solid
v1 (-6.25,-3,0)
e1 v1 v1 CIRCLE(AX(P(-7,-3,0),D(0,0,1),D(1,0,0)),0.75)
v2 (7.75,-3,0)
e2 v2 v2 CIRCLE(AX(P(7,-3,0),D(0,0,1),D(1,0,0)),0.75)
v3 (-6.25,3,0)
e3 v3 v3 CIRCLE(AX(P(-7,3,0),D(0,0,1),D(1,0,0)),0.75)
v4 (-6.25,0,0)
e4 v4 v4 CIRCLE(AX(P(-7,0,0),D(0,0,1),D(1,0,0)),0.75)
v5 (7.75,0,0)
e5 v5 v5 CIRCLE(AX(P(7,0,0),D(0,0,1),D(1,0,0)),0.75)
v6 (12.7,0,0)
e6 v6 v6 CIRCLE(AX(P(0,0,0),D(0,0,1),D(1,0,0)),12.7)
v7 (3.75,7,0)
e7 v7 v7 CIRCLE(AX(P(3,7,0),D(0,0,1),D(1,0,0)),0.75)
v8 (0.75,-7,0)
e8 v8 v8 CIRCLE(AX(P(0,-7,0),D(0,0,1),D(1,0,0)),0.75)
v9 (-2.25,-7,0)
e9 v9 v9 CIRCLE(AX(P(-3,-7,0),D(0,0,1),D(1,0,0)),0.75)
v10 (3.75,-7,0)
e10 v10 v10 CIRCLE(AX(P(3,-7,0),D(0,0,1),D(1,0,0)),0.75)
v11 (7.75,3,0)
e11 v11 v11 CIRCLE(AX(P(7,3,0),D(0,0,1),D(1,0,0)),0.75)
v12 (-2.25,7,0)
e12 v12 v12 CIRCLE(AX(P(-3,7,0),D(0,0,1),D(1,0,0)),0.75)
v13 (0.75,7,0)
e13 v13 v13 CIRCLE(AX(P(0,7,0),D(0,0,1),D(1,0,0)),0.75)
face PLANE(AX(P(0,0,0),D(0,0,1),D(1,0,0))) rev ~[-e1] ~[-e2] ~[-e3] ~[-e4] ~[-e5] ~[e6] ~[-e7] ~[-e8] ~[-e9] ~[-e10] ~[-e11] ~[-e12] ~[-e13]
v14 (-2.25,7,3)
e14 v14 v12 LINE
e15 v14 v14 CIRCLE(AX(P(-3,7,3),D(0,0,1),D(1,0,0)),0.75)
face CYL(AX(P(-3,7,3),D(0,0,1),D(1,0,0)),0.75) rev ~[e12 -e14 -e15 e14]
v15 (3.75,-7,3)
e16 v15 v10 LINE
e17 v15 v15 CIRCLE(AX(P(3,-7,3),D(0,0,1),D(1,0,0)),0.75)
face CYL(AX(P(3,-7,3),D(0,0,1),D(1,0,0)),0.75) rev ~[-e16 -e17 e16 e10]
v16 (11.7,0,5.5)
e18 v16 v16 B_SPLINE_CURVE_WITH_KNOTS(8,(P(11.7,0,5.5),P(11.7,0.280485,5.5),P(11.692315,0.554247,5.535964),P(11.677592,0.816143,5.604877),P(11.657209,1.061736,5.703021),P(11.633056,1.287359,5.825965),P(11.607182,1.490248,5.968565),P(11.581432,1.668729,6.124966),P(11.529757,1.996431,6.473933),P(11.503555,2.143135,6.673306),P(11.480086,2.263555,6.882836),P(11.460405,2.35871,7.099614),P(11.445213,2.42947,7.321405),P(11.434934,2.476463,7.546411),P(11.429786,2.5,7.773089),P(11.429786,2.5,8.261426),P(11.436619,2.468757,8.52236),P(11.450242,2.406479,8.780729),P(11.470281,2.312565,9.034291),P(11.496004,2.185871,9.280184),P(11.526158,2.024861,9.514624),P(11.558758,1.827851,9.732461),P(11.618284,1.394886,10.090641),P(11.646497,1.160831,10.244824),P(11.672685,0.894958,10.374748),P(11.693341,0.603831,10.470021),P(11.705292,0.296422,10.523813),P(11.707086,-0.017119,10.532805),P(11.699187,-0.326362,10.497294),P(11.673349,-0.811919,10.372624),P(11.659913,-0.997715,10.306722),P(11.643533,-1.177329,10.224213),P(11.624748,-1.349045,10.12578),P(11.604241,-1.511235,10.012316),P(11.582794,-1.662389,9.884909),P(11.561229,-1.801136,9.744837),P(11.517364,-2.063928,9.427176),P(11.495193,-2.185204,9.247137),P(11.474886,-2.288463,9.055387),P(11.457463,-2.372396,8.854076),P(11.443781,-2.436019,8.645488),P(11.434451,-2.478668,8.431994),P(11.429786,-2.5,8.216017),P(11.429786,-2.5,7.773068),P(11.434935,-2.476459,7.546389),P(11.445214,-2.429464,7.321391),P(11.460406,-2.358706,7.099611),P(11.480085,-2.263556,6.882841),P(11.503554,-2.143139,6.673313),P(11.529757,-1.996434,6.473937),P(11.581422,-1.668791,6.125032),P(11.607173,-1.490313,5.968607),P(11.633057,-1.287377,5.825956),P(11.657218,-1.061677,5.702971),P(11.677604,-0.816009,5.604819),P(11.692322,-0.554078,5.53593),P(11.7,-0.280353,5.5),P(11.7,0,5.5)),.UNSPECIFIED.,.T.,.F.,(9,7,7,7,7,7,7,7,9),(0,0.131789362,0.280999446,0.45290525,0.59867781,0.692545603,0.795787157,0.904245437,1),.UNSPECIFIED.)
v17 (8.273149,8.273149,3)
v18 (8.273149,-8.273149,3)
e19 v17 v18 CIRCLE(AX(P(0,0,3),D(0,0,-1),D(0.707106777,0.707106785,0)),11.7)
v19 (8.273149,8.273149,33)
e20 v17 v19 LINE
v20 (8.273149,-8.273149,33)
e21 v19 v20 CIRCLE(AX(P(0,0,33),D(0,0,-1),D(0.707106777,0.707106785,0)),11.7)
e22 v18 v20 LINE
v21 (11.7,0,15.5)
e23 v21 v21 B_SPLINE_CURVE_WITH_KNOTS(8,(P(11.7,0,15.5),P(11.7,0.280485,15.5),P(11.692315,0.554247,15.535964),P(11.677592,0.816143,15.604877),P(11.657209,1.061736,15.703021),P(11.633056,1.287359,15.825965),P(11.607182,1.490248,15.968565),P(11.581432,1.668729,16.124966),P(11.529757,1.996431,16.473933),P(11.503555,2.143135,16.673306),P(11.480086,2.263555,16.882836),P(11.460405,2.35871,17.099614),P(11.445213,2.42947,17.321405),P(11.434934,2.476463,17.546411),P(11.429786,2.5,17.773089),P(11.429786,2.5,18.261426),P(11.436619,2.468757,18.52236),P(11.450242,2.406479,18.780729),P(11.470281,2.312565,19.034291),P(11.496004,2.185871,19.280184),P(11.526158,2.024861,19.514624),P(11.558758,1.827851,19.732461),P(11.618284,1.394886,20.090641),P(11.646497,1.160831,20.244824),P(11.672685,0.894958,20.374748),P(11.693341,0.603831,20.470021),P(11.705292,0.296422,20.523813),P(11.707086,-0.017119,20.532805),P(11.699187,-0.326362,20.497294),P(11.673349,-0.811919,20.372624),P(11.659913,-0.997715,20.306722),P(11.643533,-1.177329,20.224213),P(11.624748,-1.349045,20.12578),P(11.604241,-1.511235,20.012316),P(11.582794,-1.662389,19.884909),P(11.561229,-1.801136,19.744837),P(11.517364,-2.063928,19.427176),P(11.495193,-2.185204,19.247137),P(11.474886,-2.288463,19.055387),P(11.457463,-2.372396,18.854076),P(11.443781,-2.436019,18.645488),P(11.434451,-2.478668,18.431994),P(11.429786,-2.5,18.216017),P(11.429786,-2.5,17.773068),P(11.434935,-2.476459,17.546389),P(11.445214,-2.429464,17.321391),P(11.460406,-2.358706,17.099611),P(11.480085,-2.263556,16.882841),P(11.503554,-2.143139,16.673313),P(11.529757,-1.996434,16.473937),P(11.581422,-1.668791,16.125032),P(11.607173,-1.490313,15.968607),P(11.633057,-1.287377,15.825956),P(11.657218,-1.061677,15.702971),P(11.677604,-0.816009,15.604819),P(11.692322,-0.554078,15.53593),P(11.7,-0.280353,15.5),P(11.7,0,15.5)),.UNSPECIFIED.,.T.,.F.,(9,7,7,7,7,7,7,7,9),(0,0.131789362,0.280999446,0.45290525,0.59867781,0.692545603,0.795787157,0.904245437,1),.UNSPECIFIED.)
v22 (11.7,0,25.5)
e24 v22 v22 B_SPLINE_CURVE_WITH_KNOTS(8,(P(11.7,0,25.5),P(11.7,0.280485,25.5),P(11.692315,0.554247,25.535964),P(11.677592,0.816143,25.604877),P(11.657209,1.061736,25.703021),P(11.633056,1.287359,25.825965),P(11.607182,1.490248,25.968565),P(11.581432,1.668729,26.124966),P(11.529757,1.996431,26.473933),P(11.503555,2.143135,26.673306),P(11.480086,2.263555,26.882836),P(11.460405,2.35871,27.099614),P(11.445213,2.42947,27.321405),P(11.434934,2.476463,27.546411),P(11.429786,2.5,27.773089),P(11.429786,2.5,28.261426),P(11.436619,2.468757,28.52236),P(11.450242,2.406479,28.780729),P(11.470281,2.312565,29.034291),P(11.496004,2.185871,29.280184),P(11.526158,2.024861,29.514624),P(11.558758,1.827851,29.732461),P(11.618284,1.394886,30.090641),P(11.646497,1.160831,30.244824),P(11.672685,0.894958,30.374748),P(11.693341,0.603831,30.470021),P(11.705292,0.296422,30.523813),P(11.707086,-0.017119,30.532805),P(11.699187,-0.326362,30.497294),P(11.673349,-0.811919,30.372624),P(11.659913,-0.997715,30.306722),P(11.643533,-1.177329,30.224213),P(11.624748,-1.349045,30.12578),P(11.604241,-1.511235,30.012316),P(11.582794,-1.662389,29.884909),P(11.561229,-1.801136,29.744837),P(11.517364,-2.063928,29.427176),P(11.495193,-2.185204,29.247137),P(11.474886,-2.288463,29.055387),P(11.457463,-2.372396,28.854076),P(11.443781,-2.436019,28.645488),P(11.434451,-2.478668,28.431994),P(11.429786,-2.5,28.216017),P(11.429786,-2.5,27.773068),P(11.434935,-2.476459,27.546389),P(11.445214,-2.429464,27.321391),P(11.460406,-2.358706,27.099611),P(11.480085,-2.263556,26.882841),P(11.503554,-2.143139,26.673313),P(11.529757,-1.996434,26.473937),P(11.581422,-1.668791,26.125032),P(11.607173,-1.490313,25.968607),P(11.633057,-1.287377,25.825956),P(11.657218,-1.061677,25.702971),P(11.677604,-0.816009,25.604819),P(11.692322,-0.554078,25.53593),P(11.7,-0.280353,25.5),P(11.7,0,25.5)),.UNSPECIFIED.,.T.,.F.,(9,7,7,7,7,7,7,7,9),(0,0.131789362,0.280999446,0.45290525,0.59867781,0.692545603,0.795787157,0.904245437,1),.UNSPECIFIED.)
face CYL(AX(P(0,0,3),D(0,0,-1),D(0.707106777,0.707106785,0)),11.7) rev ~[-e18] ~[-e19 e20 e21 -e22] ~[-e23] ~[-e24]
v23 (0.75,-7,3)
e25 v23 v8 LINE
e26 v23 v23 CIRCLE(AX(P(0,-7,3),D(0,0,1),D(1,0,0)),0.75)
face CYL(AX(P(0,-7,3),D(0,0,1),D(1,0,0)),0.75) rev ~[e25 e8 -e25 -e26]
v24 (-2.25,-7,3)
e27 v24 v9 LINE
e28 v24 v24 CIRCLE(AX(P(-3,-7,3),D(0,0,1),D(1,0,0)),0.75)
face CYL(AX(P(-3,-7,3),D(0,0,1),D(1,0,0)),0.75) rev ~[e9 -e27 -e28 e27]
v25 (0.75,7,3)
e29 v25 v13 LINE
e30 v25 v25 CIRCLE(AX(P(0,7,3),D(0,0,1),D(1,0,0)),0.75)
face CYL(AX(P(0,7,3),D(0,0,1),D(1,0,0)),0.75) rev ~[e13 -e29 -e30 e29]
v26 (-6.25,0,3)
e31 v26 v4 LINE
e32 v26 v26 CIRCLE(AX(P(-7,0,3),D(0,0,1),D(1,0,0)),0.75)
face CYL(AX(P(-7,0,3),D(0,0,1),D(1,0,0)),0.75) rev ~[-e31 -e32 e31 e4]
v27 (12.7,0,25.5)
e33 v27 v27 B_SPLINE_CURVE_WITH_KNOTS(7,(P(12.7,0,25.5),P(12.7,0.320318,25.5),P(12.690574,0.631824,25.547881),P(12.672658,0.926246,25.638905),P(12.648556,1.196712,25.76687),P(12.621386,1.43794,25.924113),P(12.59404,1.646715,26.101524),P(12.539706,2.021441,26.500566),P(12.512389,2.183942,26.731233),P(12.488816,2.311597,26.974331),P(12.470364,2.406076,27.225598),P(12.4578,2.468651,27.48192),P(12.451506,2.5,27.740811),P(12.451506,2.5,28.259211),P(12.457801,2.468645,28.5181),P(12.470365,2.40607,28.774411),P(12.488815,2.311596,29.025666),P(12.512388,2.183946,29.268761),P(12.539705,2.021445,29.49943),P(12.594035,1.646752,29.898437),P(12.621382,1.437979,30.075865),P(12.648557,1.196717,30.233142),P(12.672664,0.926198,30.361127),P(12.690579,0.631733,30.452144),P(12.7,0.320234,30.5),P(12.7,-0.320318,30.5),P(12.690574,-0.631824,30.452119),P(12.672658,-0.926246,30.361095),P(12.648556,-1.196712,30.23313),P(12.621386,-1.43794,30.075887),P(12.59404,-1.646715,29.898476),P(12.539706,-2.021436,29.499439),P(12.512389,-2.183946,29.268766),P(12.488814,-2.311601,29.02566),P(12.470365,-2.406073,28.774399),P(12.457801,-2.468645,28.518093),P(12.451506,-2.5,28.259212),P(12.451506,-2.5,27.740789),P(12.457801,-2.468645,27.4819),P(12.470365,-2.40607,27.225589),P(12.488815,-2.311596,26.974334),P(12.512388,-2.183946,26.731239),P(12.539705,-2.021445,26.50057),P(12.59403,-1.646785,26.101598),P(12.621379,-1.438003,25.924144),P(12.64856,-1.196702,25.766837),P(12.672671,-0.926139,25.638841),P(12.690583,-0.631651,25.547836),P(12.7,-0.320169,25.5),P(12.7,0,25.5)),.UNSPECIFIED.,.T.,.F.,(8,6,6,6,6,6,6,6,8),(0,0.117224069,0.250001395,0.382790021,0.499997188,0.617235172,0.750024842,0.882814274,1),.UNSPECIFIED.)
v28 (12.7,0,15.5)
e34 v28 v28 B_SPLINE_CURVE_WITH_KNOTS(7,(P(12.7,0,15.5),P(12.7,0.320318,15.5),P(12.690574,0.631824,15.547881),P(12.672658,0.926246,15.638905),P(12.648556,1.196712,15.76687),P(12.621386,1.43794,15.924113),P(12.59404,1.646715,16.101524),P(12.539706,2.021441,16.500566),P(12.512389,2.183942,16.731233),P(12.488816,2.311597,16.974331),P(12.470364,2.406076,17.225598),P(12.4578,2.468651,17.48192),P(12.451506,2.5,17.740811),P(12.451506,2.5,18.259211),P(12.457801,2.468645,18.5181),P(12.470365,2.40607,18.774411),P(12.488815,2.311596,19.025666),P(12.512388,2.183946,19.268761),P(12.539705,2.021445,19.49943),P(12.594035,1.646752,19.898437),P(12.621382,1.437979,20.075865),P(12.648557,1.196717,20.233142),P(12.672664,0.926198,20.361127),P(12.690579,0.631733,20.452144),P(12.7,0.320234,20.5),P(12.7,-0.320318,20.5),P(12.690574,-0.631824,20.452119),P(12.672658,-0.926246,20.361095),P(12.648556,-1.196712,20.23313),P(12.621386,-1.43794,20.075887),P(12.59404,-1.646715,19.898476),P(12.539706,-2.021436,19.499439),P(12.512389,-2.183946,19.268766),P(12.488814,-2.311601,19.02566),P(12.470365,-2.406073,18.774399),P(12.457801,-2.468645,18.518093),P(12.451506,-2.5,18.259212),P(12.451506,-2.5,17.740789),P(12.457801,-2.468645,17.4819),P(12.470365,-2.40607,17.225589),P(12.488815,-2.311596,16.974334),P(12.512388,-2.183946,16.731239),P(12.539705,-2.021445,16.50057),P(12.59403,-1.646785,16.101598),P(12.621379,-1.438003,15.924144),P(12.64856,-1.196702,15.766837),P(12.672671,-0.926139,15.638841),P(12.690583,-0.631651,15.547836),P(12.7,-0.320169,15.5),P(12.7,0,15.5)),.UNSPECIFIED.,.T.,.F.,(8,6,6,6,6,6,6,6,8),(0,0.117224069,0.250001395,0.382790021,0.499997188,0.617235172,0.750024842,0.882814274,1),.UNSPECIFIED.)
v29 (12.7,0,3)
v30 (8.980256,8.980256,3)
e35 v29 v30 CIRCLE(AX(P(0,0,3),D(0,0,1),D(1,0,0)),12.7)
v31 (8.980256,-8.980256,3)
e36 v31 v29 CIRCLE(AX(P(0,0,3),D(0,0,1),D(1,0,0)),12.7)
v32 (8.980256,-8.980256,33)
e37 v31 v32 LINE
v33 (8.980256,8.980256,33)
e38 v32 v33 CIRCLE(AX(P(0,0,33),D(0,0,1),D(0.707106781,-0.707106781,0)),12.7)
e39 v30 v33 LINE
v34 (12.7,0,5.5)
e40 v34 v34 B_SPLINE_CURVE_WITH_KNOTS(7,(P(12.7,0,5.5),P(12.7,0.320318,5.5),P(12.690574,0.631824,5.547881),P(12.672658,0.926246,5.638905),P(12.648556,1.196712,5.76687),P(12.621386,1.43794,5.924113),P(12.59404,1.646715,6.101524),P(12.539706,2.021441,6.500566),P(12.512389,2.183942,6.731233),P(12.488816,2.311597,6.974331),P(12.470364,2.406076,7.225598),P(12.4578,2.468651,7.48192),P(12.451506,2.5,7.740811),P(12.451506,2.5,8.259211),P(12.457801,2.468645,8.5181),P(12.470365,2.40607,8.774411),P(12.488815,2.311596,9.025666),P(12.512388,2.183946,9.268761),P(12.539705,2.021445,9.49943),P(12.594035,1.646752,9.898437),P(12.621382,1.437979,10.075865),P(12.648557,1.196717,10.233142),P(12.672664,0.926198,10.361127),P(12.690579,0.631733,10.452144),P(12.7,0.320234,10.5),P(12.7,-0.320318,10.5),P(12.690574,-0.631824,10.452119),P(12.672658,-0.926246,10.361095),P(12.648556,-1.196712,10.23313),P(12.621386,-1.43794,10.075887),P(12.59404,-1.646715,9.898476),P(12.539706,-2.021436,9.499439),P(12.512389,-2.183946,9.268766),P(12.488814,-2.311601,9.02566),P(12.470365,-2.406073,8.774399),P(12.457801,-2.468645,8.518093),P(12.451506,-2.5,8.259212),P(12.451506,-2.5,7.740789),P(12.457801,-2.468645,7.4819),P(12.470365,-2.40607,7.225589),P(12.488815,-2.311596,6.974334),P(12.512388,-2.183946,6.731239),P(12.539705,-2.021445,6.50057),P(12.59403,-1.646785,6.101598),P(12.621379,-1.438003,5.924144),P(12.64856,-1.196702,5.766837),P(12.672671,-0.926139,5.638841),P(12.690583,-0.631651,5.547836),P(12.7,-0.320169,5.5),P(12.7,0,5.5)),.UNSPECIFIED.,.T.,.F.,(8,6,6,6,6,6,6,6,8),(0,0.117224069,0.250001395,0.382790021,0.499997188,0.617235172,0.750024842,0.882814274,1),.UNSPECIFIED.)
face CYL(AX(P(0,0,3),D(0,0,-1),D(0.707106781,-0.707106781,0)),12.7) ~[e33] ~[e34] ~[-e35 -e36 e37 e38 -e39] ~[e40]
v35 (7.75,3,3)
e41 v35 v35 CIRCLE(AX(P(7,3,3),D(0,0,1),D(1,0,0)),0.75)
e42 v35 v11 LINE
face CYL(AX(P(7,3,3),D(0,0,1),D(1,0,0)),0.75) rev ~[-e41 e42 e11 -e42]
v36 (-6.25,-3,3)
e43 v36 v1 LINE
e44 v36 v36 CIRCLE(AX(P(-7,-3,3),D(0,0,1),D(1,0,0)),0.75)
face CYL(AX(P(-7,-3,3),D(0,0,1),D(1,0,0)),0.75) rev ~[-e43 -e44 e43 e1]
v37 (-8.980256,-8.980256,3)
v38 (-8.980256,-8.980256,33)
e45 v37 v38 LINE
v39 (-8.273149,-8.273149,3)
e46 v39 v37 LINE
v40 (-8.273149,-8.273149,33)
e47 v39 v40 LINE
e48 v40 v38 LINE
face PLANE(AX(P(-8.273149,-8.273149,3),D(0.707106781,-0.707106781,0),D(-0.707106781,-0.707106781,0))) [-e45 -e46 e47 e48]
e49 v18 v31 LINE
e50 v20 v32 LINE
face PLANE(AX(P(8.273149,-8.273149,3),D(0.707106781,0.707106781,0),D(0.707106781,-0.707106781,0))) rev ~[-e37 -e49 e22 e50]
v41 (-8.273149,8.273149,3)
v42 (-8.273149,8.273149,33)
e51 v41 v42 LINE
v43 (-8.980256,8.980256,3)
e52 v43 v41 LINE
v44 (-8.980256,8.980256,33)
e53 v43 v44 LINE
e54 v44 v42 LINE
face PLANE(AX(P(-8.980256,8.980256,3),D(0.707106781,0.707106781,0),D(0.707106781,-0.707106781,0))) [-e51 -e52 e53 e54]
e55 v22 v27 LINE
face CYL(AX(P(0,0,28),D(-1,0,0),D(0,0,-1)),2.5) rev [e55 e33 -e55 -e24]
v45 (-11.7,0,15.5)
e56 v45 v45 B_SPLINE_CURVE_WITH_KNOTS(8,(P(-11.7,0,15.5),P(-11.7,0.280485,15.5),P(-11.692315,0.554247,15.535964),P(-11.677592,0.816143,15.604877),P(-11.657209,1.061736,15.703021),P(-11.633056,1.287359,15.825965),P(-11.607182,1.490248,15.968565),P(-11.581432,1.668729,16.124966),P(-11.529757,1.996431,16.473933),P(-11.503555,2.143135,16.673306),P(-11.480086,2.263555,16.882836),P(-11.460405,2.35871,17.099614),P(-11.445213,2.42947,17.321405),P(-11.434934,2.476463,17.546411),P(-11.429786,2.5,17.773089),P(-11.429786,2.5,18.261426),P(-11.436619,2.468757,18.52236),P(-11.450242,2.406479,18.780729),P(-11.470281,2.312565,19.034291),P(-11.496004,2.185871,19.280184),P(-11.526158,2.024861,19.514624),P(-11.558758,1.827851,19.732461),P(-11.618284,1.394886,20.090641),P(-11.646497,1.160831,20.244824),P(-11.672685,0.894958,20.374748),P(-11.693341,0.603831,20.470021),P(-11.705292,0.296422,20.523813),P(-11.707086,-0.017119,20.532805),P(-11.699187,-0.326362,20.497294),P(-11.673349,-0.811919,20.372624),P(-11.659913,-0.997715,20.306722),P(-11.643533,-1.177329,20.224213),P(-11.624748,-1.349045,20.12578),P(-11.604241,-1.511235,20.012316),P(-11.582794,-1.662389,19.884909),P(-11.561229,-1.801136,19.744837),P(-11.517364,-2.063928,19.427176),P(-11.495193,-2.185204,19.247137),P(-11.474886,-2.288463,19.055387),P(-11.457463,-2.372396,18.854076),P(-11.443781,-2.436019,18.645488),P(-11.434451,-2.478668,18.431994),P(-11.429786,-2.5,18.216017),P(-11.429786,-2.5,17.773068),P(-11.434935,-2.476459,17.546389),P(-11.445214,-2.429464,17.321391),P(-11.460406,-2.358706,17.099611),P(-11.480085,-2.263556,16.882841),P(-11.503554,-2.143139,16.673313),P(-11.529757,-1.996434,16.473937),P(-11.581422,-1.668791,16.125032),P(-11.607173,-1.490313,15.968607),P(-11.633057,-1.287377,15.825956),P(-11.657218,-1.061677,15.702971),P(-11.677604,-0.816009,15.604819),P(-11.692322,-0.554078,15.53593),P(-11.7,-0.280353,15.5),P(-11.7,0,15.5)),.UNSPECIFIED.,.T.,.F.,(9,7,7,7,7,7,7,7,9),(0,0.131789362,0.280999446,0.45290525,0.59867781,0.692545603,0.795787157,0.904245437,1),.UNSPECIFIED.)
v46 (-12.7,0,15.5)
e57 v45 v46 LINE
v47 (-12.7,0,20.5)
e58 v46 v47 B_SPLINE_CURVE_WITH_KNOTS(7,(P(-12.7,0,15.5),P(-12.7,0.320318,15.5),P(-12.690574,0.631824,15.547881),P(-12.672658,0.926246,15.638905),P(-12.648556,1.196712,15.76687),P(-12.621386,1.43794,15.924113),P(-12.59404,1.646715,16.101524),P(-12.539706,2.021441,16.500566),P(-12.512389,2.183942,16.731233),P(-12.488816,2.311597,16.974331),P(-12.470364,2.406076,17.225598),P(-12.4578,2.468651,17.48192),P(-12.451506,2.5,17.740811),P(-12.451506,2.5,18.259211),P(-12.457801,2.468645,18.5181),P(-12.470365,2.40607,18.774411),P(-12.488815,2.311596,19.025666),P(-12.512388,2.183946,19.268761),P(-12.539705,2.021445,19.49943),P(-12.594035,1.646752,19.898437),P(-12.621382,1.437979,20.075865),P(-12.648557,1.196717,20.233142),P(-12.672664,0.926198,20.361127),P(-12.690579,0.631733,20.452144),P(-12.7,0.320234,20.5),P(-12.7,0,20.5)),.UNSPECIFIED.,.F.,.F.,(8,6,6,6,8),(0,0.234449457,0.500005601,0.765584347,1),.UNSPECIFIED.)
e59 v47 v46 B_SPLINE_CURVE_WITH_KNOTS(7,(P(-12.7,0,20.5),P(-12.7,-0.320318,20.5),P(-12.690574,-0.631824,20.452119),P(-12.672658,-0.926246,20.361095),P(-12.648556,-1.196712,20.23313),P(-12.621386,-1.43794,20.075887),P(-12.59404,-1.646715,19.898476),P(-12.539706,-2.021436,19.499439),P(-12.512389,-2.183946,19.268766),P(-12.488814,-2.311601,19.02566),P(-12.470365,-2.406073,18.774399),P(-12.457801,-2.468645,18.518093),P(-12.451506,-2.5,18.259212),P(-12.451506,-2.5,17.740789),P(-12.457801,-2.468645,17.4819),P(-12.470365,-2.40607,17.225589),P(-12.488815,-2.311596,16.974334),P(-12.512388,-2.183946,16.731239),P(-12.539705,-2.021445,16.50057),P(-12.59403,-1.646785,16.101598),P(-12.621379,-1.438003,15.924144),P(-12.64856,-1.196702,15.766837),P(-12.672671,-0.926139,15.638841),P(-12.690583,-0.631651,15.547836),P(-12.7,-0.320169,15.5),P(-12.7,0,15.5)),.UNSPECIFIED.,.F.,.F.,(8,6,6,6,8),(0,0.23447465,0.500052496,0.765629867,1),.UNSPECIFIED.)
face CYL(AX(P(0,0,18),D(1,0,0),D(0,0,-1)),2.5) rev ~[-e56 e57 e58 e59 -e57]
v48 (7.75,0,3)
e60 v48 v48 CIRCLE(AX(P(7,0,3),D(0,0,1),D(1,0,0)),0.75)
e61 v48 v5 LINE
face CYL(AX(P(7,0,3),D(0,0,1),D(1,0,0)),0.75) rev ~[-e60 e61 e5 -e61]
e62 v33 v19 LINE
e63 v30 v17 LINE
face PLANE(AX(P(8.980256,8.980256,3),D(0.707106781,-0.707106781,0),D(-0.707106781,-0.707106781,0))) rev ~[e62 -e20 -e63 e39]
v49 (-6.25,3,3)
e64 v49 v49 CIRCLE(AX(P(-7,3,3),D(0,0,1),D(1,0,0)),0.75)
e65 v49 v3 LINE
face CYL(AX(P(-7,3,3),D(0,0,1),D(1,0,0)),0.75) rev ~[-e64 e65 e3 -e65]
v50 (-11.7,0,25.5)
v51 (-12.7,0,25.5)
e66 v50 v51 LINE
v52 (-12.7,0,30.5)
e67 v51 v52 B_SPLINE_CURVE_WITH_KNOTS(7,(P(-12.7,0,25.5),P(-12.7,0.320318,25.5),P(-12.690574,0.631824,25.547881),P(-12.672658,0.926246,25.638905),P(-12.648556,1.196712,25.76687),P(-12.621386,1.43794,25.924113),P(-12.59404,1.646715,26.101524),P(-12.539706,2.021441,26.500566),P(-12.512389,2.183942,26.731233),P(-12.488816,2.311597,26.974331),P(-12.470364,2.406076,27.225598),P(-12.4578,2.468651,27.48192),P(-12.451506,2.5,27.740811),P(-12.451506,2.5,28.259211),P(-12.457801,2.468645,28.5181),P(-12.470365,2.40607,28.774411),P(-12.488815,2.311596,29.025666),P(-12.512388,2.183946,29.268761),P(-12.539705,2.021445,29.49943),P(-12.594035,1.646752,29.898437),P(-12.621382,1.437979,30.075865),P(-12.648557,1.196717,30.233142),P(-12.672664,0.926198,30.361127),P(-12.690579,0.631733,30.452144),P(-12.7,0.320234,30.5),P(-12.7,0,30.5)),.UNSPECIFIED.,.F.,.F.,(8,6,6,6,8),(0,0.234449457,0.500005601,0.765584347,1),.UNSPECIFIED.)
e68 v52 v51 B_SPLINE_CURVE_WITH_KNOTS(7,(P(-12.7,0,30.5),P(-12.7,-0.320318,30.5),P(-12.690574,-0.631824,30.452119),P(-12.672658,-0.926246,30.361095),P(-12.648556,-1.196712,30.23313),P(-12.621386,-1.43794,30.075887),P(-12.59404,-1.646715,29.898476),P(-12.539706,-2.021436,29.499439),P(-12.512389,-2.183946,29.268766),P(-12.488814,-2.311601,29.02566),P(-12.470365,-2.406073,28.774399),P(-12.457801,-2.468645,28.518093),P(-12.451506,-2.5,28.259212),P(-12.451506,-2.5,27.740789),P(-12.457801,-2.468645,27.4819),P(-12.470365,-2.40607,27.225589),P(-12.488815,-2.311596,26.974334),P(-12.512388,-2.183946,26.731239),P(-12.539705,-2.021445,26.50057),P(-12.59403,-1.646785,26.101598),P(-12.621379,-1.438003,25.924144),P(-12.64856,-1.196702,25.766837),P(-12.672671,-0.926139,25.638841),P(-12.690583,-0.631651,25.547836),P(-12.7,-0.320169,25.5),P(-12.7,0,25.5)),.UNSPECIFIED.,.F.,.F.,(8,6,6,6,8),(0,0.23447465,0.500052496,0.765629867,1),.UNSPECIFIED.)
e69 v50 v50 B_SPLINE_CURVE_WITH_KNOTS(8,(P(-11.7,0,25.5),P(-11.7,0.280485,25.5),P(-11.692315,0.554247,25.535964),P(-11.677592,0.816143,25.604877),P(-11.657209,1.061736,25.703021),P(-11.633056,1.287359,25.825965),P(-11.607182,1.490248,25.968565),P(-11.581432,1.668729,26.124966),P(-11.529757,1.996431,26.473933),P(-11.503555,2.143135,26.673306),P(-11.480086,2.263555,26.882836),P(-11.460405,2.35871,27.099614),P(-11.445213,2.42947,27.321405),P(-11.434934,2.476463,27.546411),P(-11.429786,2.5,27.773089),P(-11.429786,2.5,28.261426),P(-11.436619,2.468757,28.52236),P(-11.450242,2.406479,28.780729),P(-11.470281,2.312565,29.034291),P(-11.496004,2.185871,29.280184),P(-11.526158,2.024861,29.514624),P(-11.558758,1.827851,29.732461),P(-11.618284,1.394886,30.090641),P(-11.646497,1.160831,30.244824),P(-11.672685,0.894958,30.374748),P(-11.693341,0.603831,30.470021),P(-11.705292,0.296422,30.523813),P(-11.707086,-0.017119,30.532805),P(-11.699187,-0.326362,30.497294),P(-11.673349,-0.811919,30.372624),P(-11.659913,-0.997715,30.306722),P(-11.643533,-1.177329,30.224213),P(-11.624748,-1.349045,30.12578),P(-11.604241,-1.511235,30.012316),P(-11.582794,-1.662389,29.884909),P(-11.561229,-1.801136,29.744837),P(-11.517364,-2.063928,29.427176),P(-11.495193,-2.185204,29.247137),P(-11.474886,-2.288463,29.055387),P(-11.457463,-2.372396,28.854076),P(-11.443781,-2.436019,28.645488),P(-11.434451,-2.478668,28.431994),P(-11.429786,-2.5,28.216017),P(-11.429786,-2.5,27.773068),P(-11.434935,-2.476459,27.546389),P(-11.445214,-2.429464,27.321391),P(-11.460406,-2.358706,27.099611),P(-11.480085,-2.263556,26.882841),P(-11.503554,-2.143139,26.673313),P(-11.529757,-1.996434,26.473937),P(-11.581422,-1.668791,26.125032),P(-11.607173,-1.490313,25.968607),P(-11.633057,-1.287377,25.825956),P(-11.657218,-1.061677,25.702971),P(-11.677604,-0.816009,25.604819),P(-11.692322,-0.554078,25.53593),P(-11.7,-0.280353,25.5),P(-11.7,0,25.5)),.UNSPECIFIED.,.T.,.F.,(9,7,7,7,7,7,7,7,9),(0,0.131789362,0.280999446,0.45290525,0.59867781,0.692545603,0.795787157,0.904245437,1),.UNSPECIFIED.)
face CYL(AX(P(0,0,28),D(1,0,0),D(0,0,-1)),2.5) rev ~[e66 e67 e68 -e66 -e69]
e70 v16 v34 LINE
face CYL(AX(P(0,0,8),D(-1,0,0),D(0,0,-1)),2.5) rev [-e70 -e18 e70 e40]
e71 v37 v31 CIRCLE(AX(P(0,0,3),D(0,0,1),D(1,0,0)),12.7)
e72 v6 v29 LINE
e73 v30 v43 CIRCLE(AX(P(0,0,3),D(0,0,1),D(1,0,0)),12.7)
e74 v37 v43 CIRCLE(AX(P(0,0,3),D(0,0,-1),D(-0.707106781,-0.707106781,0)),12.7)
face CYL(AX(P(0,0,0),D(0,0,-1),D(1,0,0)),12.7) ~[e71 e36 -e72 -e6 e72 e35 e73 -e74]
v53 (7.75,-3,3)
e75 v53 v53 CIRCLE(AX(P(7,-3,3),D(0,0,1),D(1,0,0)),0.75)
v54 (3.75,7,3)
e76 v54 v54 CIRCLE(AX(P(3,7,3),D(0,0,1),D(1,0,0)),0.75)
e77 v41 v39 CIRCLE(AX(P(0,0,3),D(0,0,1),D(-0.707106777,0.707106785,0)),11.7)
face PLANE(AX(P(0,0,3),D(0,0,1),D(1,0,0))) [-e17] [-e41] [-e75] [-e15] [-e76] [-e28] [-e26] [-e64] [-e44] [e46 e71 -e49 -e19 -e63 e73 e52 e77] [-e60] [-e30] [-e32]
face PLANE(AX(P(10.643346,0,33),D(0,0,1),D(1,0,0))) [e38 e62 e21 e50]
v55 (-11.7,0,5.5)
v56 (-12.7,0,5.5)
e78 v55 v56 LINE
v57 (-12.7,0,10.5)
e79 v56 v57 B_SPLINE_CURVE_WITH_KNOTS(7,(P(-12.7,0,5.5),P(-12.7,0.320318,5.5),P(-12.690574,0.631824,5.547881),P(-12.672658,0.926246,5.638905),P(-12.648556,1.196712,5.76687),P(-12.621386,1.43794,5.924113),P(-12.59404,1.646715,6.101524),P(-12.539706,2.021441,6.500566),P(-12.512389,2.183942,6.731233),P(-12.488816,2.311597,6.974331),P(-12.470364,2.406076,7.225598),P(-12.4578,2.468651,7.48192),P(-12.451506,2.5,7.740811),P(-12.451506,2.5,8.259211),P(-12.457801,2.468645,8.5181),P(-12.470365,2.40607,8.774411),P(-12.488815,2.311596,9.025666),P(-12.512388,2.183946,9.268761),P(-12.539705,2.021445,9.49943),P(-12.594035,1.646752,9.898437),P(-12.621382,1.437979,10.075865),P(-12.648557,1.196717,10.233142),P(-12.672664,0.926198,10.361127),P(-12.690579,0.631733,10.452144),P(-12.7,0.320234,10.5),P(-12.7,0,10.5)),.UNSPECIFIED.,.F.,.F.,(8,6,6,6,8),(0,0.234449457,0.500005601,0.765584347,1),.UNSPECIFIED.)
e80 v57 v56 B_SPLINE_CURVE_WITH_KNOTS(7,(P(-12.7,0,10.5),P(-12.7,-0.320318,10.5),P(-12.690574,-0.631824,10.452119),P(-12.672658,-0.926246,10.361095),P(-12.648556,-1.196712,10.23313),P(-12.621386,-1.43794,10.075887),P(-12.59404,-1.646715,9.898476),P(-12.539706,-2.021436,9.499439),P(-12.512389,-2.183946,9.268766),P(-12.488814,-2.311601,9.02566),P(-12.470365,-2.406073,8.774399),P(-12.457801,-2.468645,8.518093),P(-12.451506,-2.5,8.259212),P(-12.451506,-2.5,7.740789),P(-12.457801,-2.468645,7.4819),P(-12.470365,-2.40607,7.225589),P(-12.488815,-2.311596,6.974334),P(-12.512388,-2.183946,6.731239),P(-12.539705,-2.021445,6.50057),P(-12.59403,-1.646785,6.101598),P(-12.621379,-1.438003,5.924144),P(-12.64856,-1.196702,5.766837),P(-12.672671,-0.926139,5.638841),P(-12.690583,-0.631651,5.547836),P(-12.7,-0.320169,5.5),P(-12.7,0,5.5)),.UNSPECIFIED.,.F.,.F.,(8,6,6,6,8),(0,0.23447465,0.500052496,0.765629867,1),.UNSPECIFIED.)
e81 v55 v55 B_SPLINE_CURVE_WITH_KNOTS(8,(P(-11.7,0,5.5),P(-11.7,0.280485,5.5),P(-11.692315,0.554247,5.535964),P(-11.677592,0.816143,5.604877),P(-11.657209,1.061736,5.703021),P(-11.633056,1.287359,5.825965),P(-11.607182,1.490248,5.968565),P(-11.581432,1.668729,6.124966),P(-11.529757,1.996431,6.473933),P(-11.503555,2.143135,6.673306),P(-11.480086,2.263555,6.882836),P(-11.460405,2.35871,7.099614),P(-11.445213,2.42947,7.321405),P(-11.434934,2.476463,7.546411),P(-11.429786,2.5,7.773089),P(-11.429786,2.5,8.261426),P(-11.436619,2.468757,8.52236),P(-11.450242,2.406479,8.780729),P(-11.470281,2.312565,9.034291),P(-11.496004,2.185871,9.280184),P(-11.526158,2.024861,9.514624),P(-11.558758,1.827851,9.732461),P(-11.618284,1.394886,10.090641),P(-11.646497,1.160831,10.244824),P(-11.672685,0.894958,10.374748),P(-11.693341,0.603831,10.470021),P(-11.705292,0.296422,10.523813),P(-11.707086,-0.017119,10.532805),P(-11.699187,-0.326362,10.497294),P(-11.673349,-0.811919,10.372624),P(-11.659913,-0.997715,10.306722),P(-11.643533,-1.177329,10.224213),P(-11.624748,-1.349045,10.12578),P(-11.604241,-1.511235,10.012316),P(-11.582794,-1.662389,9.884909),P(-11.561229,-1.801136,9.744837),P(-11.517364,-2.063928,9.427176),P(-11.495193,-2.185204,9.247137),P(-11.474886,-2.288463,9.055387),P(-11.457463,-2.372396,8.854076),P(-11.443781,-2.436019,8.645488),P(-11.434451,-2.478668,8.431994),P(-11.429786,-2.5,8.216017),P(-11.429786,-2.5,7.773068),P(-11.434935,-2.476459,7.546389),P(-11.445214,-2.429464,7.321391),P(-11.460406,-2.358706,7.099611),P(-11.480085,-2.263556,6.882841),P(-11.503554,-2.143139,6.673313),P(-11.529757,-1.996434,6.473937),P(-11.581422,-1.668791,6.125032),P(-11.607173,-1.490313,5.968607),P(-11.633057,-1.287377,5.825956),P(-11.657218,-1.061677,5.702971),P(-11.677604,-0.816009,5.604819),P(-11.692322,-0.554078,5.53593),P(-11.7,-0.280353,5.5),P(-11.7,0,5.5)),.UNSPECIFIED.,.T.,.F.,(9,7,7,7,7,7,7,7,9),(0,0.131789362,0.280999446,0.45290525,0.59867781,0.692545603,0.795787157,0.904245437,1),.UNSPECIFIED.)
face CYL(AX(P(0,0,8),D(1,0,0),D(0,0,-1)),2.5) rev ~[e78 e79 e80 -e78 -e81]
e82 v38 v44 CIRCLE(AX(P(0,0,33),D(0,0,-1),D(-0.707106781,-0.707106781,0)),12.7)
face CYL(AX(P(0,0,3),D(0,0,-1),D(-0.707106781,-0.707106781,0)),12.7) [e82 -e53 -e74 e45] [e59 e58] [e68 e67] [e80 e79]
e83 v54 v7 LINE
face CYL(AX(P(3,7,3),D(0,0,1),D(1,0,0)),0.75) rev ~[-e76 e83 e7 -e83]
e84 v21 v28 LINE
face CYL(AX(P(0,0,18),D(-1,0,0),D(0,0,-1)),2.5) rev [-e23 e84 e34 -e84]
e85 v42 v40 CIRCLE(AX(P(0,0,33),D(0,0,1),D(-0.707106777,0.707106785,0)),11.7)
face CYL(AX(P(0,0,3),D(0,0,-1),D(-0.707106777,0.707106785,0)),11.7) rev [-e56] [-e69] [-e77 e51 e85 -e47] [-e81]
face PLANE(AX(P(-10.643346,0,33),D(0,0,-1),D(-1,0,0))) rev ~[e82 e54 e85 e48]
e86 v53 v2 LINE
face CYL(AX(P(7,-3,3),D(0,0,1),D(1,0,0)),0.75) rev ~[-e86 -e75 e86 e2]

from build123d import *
from build123d.topology import SkipClean

# Parameters (mm, degrees)
SKETCH1_R                           = 12.7
BOSS_EXTRUDE1_DEPTH                 = 3
SKETCH2_R                           = 0.75
CUT_EXTRUDE1_DEPTH                  = 3
BOSS_EXTRUDE2_DEPTH                 = 30
CUT_EXTRUDE2_REACH                  = 39.571
CUT_EXTRUDE2_END_RADIUS             = 12.7
SKETCH4_R                           = 2.5
CUT_EXTRUDE2_DIRECTION_2_REACH      = 39.571
CUT_EXTRUDE2_DIRECTION_2_END_RADIUS = 12.7


with BuildPart() as part:
    # Sketch1 → Boss-Extrude1 (new body)
    with BuildSketch(Plane.XY):
        Circle(SKETCH1_R)
    extrude(amount=BOSS_EXTRUDE1_DEPTH)

    # Sketch2 → Cut-Extrude1 (cut)
    with BuildSketch(Plane.XY.offset(3)):
        with Locations((0, 7)):
            Circle(SKETCH2_R)
        with Locations((-3, 7)):
            Circle(SKETCH2_R)
        with Locations((3, 7)):
            Circle(SKETCH2_R)
        with Locations((7, -3)):
            Circle(SKETCH2_R)
        with Locations((7, 0)):
            Circle(SKETCH2_R)
        with Locations((7, 3)):
            Circle(SKETCH2_R)
        with Locations((-3, -7)):
            Circle(SKETCH2_R)
        with Locations((0, -7)):
            Circle(SKETCH2_R)
        with Locations((3, -7)):
            Circle(SKETCH2_R)
        with Locations((-7, 3)):
            Circle(SKETCH2_R)
        with Locations((-7, 0)):
            Circle(SKETCH2_R)
        with Locations((-7, -3)):
            Circle(SKETCH2_R)
    extrude(amount=-CUT_EXTRUDE1_DEPTH, mode=Mode.SUBTRACT)

    # Sketch3 → Boss-Extrude2 (add)
    with SkipClean():  # the faces are left unmerged after this step: merging them gives an invalid solid
        with BuildSketch(Plane.XY.offset(3)):
            with BuildLine():
                Line((-8.980256121, 8.980256121), (-8.273149436, 8.273149436))
                ThreePointArc((-8.273149436, 8.273149436), (-11.700000136, 0), (-8.27314937, -8.27314937))
                Line((-8.27314937, -8.27314937), (-8.980256121, -8.980256121))
                ThreePointArc((-8.980256121, -8.980256121), (-12.7, 0), (-8.980256121, 8.980256121))
            make_face()
            with BuildLine():
                Line((8.980256121, 8.980256121), (8.273149436, 8.273149436))
                ThreePointArc((8.273149436, 8.273149436), (11.700000136, 0), (8.27314937, -8.27314937))
                Line((8.27314937, -8.27314937), (8.980256121, -8.980256121))
                ThreePointArc((8.980256121, -8.980256121), (12.7, 0), (8.980256121, 8.980256121))
            make_face()
        extrude(amount=BOSS_EXTRUDE2_DEPTH)

    # Cut-Extrude2: up to this cylinder (the profile starts inside it)
    with SkipClean():  # the faces are left unmerged after this step: merging them gives an invalid solid
        cut_extrude2_end = Plane(origin=(0, 0, 18), z_dir=(0, 0, -1)) * Cylinder(CUT_EXTRUDE2_END_RADIUS, 125.542, mode=Mode.PRIVATE)
        # Sketch4 → Cut-Extrude2 (cut, up to the surface)
        with BuildSketch(Plane(origin=(0, 0, 0), x_dir=(0, 0, -1), z_dir=(1, 0, 0)), mode=Mode.PRIVATE) as cut_extrude2_sk1:
            with Locations((-8, 0)):
                Circle(SKETCH4_R)
        cut_extrude2_tool1 = extrude(cut_extrude2_sk1.sketch, amount=-CUT_EXTRUDE2_REACH, mode=Mode.PRIVATE) & cut_extrude2_end
        add(cut_extrude2_tool1.solids().sort_by_distance((0, 0, 8))[0], mode=Mode.SUBTRACT)
        # Sketch4 → Cut-Extrude2 (cut, up to the surface)
        with BuildSketch(Plane(origin=(0, 0, 0), x_dir=(0, 0, -1), z_dir=(1, 0, 0)), mode=Mode.PRIVATE) as cut_extrude2_sk2:
            with Locations((-18, 0)):
                Circle(SKETCH4_R)
        cut_extrude2_tool2 = extrude(cut_extrude2_sk2.sketch, amount=-CUT_EXTRUDE2_REACH, mode=Mode.PRIVATE) & cut_extrude2_end
        add(cut_extrude2_tool2.solids().sort_by_distance((0, 0, 18))[0], mode=Mode.SUBTRACT)
        # Sketch4 → Cut-Extrude2 (cut, up to the surface)
        with BuildSketch(Plane(origin=(0, 0, 0), x_dir=(0, 0, -1), z_dir=(1, 0, 0)), mode=Mode.PRIVATE) as cut_extrude2_sk3:
            with Locations((-28, 0)):
                Circle(SKETCH4_R)
        cut_extrude2_tool3 = extrude(cut_extrude2_sk3.sketch, amount=-CUT_EXTRUDE2_REACH, mode=Mode.PRIVATE) & cut_extrude2_end
        add(cut_extrude2_tool3.solids().sort_by_distance((0, 0, 28))[0], mode=Mode.SUBTRACT)

    # Cut-Extrude2 direction 2: up to this cylinder (the profile starts inside it)
    with SkipClean():  # the faces are left unmerged after this step: merging them gives an invalid solid
        cut_extrude2_direction_2_end = Plane(origin=(0, 0, 18), z_dir=(0, 0, -1)) * Cylinder(CUT_EXTRUDE2_DIRECTION_2_END_RADIUS, 125.542, mode=Mode.PRIVATE)
        # Sketch4 → Cut-Extrude2 direction 2 (cut, up to the surface)
        with BuildSketch(Plane(origin=(0, 0, 0), x_dir=(0, 0, -1), z_dir=(1, 0, 0)), mode=Mode.PRIVATE) as cut_extrude2_direction_2_sk1:
            with Locations((-8, 0)):
                Circle(SKETCH4_R)
        cut_extrude2_direction_2_tool1 = extrude(cut_extrude2_direction_2_sk1.sketch, amount=CUT_EXTRUDE2_DIRECTION_2_REACH, mode=Mode.PRIVATE) & cut_extrude2_direction_2_end
        add(cut_extrude2_direction_2_tool1.solids().sort_by_distance((0, 0, 8))[0], mode=Mode.SUBTRACT)
        # Sketch4 → Cut-Extrude2 direction 2 (cut, up to the surface)
        with BuildSketch(Plane(origin=(0, 0, 0), x_dir=(0, 0, -1), z_dir=(1, 0, 0)), mode=Mode.PRIVATE) as cut_extrude2_direction_2_sk2:
            with Locations((-18, 0)):
                Circle(SKETCH4_R)
        cut_extrude2_direction_2_tool2 = extrude(cut_extrude2_direction_2_sk2.sketch, amount=CUT_EXTRUDE2_DIRECTION_2_REACH, mode=Mode.PRIVATE) & cut_extrude2_direction_2_end
        add(cut_extrude2_direction_2_tool2.solids().sort_by_distance((0, 0, 18))[0], mode=Mode.SUBTRACT)
        # Sketch4 → Cut-Extrude2 direction 2 (cut, up to the surface)
        with BuildSketch(Plane(origin=(0, 0, 0), x_dir=(0, 0, -1), z_dir=(1, 0, 0)), mode=Mode.PRIVATE) as cut_extrude2_direction_2_sk3:
            with Locations((-28, 0)):
                Circle(SKETCH4_R)
        cut_extrude2_direction_2_tool3 = extrude(cut_extrude2_direction_2_sk3.sketch, amount=CUT_EXTRUDE2_DIRECTION_2_REACH, mode=Mode.PRIVATE) & cut_extrude2_direction_2_end
        add(cut_extrude2_direction_2_tool3.solids().sort_by_distance((0, 0, 28))[0], mode=Mode.SUBTRACT)


solid = part.part
